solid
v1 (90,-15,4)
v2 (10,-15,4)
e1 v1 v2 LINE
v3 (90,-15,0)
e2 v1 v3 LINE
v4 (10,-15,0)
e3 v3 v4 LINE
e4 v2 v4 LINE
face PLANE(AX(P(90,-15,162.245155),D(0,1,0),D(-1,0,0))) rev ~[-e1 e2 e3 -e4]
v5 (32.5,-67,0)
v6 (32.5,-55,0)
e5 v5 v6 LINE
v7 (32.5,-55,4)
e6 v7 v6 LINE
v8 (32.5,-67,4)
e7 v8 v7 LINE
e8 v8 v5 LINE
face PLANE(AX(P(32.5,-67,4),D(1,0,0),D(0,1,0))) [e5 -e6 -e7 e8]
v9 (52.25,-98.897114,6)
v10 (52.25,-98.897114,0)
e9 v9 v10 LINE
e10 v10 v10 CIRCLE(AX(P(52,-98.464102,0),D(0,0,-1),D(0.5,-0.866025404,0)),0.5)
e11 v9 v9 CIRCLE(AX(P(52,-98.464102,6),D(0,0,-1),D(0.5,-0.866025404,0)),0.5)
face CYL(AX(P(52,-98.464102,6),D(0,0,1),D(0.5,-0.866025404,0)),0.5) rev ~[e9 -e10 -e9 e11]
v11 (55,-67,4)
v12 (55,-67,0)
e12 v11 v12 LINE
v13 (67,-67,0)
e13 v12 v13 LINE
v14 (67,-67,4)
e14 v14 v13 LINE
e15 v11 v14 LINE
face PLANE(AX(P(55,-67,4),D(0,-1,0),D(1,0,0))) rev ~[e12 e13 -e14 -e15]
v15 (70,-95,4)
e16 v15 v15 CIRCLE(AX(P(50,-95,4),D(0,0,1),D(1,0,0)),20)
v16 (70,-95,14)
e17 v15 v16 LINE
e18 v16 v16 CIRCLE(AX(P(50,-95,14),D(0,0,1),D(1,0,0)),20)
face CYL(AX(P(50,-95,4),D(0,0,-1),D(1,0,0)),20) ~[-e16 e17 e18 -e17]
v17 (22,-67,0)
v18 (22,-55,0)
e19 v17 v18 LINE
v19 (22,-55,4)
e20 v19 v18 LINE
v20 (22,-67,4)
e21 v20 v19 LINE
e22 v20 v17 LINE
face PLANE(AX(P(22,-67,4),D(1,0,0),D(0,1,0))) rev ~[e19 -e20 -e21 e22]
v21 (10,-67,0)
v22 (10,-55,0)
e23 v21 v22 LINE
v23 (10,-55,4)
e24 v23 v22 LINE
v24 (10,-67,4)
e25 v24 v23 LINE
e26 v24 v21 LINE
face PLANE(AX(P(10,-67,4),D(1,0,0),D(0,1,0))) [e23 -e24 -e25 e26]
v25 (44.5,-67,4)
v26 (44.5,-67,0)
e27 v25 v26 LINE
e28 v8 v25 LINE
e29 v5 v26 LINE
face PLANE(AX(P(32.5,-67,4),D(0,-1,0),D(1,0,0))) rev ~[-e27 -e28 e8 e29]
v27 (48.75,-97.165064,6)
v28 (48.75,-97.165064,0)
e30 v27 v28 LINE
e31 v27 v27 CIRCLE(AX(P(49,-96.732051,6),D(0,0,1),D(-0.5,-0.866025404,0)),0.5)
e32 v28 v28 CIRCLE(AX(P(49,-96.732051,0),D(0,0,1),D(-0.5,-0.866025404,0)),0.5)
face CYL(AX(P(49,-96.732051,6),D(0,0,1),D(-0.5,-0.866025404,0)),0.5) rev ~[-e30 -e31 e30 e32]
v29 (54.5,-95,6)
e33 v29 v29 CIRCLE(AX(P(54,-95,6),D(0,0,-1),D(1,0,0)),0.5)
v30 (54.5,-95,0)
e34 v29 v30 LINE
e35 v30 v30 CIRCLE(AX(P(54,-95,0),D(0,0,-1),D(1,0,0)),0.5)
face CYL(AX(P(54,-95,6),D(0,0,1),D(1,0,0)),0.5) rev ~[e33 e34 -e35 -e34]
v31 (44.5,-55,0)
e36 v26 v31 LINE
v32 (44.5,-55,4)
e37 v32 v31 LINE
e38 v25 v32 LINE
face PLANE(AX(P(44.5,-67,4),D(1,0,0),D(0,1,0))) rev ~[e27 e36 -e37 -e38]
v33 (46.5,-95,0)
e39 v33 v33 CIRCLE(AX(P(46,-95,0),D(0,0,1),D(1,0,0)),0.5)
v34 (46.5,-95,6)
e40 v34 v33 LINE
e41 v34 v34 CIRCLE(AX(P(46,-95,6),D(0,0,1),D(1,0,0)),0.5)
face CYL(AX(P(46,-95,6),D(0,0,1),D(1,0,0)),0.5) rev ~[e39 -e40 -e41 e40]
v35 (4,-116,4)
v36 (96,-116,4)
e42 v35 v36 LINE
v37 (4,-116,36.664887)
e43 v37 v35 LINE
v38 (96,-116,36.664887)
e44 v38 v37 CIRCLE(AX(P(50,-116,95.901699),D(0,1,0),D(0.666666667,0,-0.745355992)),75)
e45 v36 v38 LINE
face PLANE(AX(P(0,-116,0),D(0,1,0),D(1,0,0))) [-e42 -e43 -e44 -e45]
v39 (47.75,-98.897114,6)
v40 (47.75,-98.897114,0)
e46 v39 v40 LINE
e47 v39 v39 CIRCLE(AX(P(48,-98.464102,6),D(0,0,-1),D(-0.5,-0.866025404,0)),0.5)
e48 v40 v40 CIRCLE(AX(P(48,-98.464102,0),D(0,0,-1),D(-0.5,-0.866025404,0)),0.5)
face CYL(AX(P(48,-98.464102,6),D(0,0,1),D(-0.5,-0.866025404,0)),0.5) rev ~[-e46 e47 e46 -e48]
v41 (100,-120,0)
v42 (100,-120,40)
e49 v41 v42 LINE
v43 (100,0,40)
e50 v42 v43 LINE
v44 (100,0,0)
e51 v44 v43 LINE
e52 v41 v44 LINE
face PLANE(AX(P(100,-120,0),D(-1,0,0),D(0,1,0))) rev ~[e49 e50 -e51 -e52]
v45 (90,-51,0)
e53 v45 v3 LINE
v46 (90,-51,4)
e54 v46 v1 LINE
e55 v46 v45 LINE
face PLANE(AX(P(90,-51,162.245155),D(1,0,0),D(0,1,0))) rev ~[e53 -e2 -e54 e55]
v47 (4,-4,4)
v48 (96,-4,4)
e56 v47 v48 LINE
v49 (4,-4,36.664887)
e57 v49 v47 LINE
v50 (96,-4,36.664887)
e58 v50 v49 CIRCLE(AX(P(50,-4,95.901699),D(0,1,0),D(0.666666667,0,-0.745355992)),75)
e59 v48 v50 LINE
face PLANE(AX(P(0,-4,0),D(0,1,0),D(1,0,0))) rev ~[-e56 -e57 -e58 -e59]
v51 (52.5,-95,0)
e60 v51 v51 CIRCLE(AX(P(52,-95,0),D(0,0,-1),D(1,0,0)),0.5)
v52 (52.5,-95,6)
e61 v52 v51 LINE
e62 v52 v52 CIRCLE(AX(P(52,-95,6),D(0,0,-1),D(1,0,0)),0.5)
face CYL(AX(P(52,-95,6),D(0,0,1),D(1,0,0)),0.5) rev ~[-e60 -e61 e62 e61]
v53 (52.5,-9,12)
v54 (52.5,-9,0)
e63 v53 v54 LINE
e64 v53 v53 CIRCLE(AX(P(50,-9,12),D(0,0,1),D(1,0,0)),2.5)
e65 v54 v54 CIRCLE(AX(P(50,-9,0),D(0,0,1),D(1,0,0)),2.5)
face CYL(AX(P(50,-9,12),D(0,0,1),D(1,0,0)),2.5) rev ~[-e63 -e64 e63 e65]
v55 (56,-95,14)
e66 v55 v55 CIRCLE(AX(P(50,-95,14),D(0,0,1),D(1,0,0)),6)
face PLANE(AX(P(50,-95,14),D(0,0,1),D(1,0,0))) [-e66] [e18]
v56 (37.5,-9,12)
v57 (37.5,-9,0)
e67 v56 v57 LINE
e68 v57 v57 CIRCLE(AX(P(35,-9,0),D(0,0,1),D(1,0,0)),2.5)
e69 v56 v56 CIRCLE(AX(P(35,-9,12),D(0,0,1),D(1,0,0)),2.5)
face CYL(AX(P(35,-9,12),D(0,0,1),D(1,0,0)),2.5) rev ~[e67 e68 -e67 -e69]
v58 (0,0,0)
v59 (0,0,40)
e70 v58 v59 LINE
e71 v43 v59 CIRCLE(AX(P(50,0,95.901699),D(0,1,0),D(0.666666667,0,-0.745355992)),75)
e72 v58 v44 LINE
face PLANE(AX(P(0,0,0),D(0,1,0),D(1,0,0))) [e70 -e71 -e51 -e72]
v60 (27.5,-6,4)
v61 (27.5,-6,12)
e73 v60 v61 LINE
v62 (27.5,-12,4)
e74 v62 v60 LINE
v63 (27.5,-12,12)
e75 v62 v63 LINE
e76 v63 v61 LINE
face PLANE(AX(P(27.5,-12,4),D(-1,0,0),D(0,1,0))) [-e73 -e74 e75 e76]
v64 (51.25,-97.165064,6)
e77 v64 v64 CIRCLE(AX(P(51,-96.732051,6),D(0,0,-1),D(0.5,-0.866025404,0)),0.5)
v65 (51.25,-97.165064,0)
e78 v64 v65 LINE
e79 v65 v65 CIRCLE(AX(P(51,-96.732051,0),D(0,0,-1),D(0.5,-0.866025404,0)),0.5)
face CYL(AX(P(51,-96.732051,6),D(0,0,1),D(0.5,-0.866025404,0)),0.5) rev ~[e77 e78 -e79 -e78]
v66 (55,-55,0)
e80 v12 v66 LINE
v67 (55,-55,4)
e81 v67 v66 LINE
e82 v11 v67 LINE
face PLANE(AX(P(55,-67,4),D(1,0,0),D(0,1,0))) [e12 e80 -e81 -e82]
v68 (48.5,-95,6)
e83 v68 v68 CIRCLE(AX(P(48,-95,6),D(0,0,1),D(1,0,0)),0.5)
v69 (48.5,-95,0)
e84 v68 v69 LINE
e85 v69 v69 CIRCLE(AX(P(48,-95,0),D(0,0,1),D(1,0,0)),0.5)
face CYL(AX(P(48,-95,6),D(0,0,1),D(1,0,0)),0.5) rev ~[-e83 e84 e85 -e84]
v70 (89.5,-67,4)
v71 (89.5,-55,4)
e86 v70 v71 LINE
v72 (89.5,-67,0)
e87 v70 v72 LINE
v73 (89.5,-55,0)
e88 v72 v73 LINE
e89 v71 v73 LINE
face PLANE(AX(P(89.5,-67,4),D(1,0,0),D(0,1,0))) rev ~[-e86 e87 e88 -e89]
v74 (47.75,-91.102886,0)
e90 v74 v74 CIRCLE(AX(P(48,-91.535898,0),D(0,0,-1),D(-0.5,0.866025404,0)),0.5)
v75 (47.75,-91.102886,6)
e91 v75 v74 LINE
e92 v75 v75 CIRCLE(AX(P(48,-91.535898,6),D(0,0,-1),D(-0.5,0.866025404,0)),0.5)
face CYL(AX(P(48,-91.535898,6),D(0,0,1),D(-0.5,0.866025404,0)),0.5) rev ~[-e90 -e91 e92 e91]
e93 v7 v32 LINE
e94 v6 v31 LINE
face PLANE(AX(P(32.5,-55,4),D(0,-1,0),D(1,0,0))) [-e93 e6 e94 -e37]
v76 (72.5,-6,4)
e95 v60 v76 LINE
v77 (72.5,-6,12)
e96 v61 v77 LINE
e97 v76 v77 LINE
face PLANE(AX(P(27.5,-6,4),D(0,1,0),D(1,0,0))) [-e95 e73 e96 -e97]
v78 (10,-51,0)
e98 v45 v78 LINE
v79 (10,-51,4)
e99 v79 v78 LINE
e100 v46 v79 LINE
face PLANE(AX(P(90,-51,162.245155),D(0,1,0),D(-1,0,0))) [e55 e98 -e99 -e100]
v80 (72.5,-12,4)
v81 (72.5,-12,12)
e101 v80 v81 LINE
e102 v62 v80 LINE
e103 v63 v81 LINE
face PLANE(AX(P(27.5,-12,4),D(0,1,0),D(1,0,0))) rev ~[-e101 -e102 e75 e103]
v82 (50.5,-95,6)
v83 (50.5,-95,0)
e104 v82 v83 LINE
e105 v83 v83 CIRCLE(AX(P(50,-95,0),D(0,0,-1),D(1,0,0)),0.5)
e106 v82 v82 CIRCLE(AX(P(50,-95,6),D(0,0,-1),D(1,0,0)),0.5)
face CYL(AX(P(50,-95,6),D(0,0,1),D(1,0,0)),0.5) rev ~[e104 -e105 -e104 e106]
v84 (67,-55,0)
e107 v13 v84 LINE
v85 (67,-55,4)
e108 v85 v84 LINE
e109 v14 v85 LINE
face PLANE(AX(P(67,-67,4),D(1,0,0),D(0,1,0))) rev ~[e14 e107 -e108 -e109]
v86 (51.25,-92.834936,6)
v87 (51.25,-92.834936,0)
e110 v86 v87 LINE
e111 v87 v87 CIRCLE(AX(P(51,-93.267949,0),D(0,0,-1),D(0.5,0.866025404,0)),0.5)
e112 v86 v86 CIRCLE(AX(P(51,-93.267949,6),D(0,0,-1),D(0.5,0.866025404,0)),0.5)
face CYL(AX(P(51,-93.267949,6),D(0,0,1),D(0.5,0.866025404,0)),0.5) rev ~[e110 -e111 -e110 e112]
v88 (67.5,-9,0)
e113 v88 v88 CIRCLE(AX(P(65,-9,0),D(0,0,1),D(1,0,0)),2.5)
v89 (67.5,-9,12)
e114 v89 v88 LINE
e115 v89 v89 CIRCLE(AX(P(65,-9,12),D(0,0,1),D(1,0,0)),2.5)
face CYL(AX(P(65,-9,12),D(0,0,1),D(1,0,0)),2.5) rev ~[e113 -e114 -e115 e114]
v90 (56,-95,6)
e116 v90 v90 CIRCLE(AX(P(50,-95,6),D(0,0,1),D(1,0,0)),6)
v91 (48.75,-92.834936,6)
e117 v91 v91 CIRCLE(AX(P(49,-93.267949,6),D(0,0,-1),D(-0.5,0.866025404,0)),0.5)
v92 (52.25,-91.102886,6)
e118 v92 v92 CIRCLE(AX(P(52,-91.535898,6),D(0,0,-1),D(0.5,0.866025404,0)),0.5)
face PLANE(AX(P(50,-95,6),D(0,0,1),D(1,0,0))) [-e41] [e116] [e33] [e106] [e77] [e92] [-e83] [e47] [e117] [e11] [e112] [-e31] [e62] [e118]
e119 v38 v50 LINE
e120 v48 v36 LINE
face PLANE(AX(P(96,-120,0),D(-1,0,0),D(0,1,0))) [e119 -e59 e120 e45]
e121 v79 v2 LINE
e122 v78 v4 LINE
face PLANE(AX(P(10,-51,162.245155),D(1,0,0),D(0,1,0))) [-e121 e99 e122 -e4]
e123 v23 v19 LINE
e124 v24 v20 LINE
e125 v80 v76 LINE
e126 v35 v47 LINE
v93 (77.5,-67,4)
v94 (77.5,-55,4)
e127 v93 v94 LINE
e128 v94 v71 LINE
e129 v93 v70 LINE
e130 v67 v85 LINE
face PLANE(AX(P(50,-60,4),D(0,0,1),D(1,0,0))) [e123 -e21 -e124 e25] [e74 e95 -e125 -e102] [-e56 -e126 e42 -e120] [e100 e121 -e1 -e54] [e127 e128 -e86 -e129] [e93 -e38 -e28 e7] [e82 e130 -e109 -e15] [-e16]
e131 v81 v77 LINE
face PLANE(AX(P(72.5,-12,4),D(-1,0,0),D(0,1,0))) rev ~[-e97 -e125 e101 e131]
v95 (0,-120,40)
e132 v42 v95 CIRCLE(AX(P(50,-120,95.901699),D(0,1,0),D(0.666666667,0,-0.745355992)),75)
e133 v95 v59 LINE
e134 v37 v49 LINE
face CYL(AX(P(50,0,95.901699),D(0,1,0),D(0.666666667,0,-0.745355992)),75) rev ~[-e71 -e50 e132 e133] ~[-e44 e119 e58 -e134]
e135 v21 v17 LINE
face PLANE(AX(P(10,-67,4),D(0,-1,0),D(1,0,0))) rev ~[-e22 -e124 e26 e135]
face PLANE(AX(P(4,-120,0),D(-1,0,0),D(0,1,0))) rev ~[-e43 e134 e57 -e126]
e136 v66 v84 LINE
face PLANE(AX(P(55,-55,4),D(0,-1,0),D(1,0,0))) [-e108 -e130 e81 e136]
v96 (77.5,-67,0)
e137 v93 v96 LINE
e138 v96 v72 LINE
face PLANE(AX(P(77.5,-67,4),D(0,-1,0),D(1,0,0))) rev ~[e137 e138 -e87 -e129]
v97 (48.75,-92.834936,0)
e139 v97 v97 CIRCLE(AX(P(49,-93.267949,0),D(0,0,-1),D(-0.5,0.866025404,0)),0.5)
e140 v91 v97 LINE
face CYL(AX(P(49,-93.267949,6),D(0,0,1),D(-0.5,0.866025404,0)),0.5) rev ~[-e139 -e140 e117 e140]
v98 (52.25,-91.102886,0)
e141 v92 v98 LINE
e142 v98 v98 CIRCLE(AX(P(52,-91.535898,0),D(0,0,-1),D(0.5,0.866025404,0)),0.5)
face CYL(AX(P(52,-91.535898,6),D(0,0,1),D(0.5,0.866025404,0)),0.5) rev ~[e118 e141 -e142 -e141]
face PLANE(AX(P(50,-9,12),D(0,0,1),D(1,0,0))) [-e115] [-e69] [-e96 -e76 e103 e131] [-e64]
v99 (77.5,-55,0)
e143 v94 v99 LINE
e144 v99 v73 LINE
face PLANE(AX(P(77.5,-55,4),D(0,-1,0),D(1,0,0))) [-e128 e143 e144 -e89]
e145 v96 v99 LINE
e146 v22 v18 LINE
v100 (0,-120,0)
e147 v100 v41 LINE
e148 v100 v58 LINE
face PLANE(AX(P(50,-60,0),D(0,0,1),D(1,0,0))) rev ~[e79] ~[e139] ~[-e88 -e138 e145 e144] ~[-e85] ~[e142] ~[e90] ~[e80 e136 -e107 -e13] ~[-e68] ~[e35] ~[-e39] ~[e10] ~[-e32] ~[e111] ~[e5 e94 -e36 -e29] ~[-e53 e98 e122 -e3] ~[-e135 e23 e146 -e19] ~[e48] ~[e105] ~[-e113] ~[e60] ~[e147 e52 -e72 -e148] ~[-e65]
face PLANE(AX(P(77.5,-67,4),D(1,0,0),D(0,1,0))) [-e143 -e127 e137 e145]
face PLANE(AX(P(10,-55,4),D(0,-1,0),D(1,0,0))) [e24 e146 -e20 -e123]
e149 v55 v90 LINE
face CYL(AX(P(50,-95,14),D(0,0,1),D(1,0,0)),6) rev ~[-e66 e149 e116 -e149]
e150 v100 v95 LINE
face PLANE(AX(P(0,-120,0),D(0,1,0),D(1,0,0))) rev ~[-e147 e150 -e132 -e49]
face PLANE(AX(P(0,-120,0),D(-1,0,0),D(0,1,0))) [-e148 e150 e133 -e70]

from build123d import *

# Parameters (mm, degrees)
SKETCH1_W                    = 100
SKETCH1_H                    = 120
BOSS_EXTRUDE1_DEPTH          = 40
CUT_EXTRUDE2_DEPTH           = 120
SHELL1_T                     = -4
CUT_EXTRUDE3_DEPTH           = 162.245154966
CUT_EXTRUDE3_DEPTH_BACK      = 162.245154966
SKETCH3_W                    = 80
SKETCH3_H                    = 36
SKETCH4_R                    = 20
BOSS_EXTRUDE2_DEPTH          = 10
SKETCH6_W                    = 45
SKETCH6_H                    = 6
BOSS_EXTRUDE4_DEPTH          = 8
SKETCH7_R                    = 2.5
CUT_EXTRUDE6_DEPTH           = 159.694675399
LPATTERN2_COUNT              = 2
LPATTERN2_PITCH              = 15
LPATTERN2_COL_COUNT          = 2
LPATTERN2_COL_PITCH          = 15
SKETCH9_W                    = 12
SKETCH9_H                    = 12
CUT_EXTRUDE7_DEPTH           = 10
LPATTERN3_COUNT              = 4
LPATTERN3_PITCH              = 22.5
SKETCH10_R                   = 6
CUT_EXTRUDE8_DEPTH           = 8
SKETCH13_R                   = 0.5
CUT_EXTRUDE9_DEPTH           = 10
LPATTERN4_COUNT              = 3
LPATTERN4_PITCH              = 2
LPATTERN4_COL_COUNT          = 3
LPATTERN4_COL_PITCH          = 2
CIRPATTERN2_COPY_1_SKETCH_R  = 0.5
CIRPATTERN2_COPY_1_DEPTH     = 10
CIRPATTERN2_COPY_2_SKETCH_R  = 0.5
CIRPATTERN2_COPY_2_DEPTH     = 10
CIRPATTERN2_COPY_3_SKETCH_R  = 0.5
CIRPATTERN2_COPY_3_DEPTH     = 10
CIRPATTERN2_COPY_4_SKETCH_R  = 0.5
CIRPATTERN2_COPY_4_DEPTH     = 10
CIRPATTERN2_COPY_5_SKETCH_R  = 0.5
CIRPATTERN2_COPY_5_DEPTH     = 10
CIRPATTERN2_COPY_6_SKETCH_R  = 0.5
CIRPATTERN2_COPY_6_DEPTH     = 10
CIRPATTERN2_COPY_7_SKETCH_R  = 0.5
CIRPATTERN2_COPY_7_DEPTH     = 10
CIRPATTERN2_COPY_8_SKETCH_R  = 0.5
CIRPATTERN2_COPY_8_DEPTH     = 10
CIRPATTERN2_COPY_9_SKETCH_R  = 0.5
CIRPATTERN2_COPY_9_DEPTH     = 10
CIRPATTERN2_COPY_10_SKETCH_R = 0.5
CIRPATTERN2_COPY_10_DEPTH    = 10
CIRPATTERN2_COPY_11_SKETCH_R = 0.5
CIRPATTERN2_COPY_11_DEPTH    = 10
CIRPATTERN2_COPY_12_SKETCH_R = 0.5
CIRPATTERN2_COPY_12_DEPTH    = 10
CIRPATTERN2_COPY_13_SKETCH_R = 0.5
CIRPATTERN2_COPY_13_DEPTH    = 10
CIRPATTERN2_COPY_14_SKETCH_R = 0.5
CIRPATTERN2_COPY_14_DEPTH    = 10
CIRPATTERN2_COPY_15_SKETCH_R = 0.5
CIRPATTERN2_COPY_15_DEPTH    = 10
CIRPATTERN2_COPY_16_SKETCH_R = 0.5
CIRPATTERN2_COPY_16_DEPTH    = 10
CIRPATTERN2_COPY_17_SKETCH_R = 0.5
CIRPATTERN2_COPY_17_DEPTH    = 10
CIRPATTERN2_COPY_18_SKETCH_R = 0.5
CIRPATTERN2_COPY_18_DEPTH    = 10
CIRPATTERN2_COPY_19_SKETCH_R = 0.5
CIRPATTERN2_COPY_19_DEPTH    = 10
CIRPATTERN2_COPY_20_SKETCH_R = 0.5
CIRPATTERN2_COPY_20_DEPTH    = 10
CIRPATTERN2_COPY_21_SKETCH_R = 0.5
CIRPATTERN2_COPY_21_DEPTH    = 10
CIRPATTERN2_COPY_22_SKETCH_R = 0.5
CIRPATTERN2_COPY_22_DEPTH    = 10
CIRPATTERN2_COPY_23_SKETCH_R = 0.5
CIRPATTERN2_COPY_23_DEPTH    = 10
CIRPATTERN2_COPY_24_SKETCH_R = 0.5
CIRPATTERN2_COPY_24_DEPTH    = 10
CIRPATTERN2_COPY_25_SKETCH_R = 0.5
CIRPATTERN2_COPY_25_DEPTH    = 10


with BuildPart() as part:
    # Sketch1 → Boss-Extrude1 (new body)
    with BuildSketch(Plane.XY):
        with Locations((50, -60)):
            Rectangle(SKETCH1_W, SKETCH1_H)
    extrude(amount=BOSS_EXTRUDE1_DEPTH)

    # Sketch2 → Cut-Extrude2 (cut)
    with BuildSketch(Plane(origin=(0, 0, 0), x_dir=(1, 0, 0), z_dir=(0, 1, 0))):
        with BuildLine():
            Line((0, -40), (100, -40))
            ThreePointArc((100, -40), (50, -20.901699437), (0, -40))
        make_face()
    extrude(amount=-CUT_EXTRUDE2_DEPTH, mode=Mode.SUBTRACT)

    # Shell1
    shell1_openings = [part.faces().sort_by_distance(p)[0] for p in [
        (50, -60, 20.901699437),
    ]]
    offset(amount=SHELL1_T, openings=shell1_openings, kind=Kind.INTERSECTION)

    # Sketch3 → Cut-Extrude3 (cut, two sides: drawn at the far end of the back side and taken through both)
    with BuildSketch(Plane(origin=(0, 0, 0), x_dir=(-1, 0, 0), z_dir=(0, 0, -1)).offset(-CUT_EXTRUDE3_DEPTH_BACK)):
        with Locations((-50, -33)):
            Rectangle(SKETCH3_W, SKETCH3_H)
    extrude(amount=CUT_EXTRUDE3_DEPTH + CUT_EXTRUDE3_DEPTH_BACK, mode=Mode.SUBTRACT)

    # Sketch4 → Boss-Extrude2 (add)
    with BuildSketch(Plane.XY.offset(4)):
        with Locations((50, -95)):
            Circle(SKETCH4_R)
    extrude(amount=BOSS_EXTRUDE2_DEPTH)

    # Sketch6 → Boss-Extrude4 (add)
    with BuildSketch(Plane.XY.offset(4)):
        with Locations((50, -9)):
            Rectangle(SKETCH6_W, SKETCH6_H)
    extrude(amount=BOSS_EXTRUDE4_DEPTH)

    # Sketch7 → Cut-Extrude6 (cut, through all)
    with BuildSketch(Plane.XY.offset(12)):
        with Locations((50, -9)):
            Circle(SKETCH7_R)
    cut_extrude6 = extrude(amount=-CUT_EXTRUDE6_DEPTH, mode=Mode.SUBTRACT)

    # LPattern2: Cut-Extrude6 ×2
    with Locations(*[(-i * LPATTERN2_PITCH, 0, 0) for i in range(1, LPATTERN2_COUNT)]):
        add(cut_extrude6, mode=Mode.SUBTRACT)

    # LPattern2 col: Cut-Extrude6 ×2
    with Locations(*[(i * LPATTERN2_COL_PITCH, 0, 0) for i in range(1, LPATTERN2_COL_COUNT)]):
        add(cut_extrude6, mode=Mode.SUBTRACT)

    # Sketch9 → Cut-Extrude7 (cut)
    with BuildSketch(Plane.XY.offset(4)):
        with Locations((16, -61)):
            Rectangle(SKETCH9_W, SKETCH9_H)
    cut_extrude7 = extrude(amount=-CUT_EXTRUDE7_DEPTH, mode=Mode.SUBTRACT)

    # LPattern3: Cut-Extrude7 ×4
    with Locations(*[(i * LPATTERN3_PITCH, 0, 0) for i in range(1, LPATTERN3_COUNT)]):
        add(cut_extrude7, mode=Mode.SUBTRACT)

    # Sketch10 → Cut-Extrude8 (cut)
    with BuildSketch(Plane.XY.offset(14)):
        with Locations((50, -95)):
            Circle(SKETCH10_R)
    extrude(amount=-CUT_EXTRUDE8_DEPTH, mode=Mode.SUBTRACT)

    # Sketch13 → Cut-Extrude9 (cut)
    with BuildSketch(Plane.XY.offset(6)):
        with Locations((50, -95)):
            Circle(SKETCH13_R)
    cut_extrude9 = extrude(amount=-CUT_EXTRUDE9_DEPTH, mode=Mode.SUBTRACT)

    # LPattern4: Cut-Extrude9 ×3
    with Locations(*[(i * LPATTERN4_PITCH, 0, 0) for i in range(1, LPATTERN4_COUNT)]):
        add(cut_extrude9, mode=Mode.SUBTRACT)

    # LPattern4 col: Cut-Extrude9 ×3
    with Locations(*[(-i * LPATTERN4_COL_PITCH, 0, 0) for i in range(1, LPATTERN4_COL_COUNT)]):
        add(cut_extrude9, mode=Mode.SUBTRACT)

    # CirPattern2 copy 1 sketch → CirPattern2 copy 1 (cut)
    with BuildSketch(Plane(origin=(-56.27241336, -89.069219382, 6), x_dir=(0.5000000000000001, 0.8660254037844386, 0), z_dir=(0, 0, 1))):
        with Locations((50, -95)):
            Circle(CIRPATTERN2_COPY_1_SKETCH_R)
    extrude(amount=-CIRPATTERN2_COPY_1_DEPTH, mode=Mode.SUBTRACT)

    # CirPattern2 copy 2 sketch → CirPattern2 copy 2 (cut)
    with BuildSketch(Plane(origin=(-8.27241336, -184.069219382, 6), x_dir=(-0.4999999999999998, 0.8660254037844387, 0), z_dir=(0, 0, 1))):
        with Locations((50, -95)):
            Circle(CIRPATTERN2_COPY_2_SKETCH_R)
    extrude(amount=-CIRPATTERN2_COPY_2_DEPTH, mode=Mode.SUBTRACT)

    # CirPattern2 copy 3 sketch → CirPattern2 copy 3 (cut)
    with BuildSketch(Plane(origin=(98, -190, 6), x_dir=(-1, 0, 0), z_dir=(0, 0, 1))):
        with Locations((50, -95)):
            Circle(CIRPATTERN2_COPY_3_SKETCH_R)
    extrude(amount=-CIRPATTERN2_COPY_3_DEPTH, mode=Mode.SUBTRACT)

    # CirPattern2 copy 4 sketch → CirPattern2 copy 4 (cut)
    with BuildSketch(Plane(origin=(156.27241336, -100.930780618, 6), x_dir=(-0.5000000000000004, -0.8660254037844384, 0), z_dir=(0, 0, 1))):
        with Locations((50, -95)):
            Circle(CIRPATTERN2_COPY_4_SKETCH_R)
    extrude(amount=-CIRPATTERN2_COPY_4_DEPTH, mode=Mode.SUBTRACT)

    # CirPattern2 copy 5 sketch → CirPattern2 copy 5 (cut)
    with BuildSketch(Plane(origin=(108.27241336, -5.930780618, 6), x_dir=(0.5000000000000001, -0.8660254037844386, 0), z_dir=(0, 0, 1))):
        with Locations((50, -95)):
            Circle(CIRPATTERN2_COPY_5_SKETCH_R)
    extrude(amount=-CIRPATTERN2_COPY_5_DEPTH, mode=Mode.SUBTRACT)

    # CirPattern2 copy 6 sketch → CirPattern2 copy 6 (cut)
    with BuildSketch(Plane(origin=(-55.27241336, -87.337168574, 6), x_dir=(0.5000000000000001, 0.8660254037844386, 0), z_dir=(0, 0, 1))):
        with Locations((50, -95)):
            Circle(CIRPATTERN2_COPY_6_SKETCH_R)
    extrude(amount=-CIRPATTERN2_COPY_6_DEPTH, mode=Mode.SUBTRACT)

    # CirPattern2 copy 7 sketch → CirPattern2 copy 7 (cut)
    with BuildSketch(Plane(origin=(-9.27241336, -182.337168574, 6), x_dir=(-0.4999999999999998, 0.8660254037844387, 0), z_dir=(0, 0, 1))):
        with Locations((50, -95)):
            Circle(CIRPATTERN2_COPY_7_SKETCH_R)
    extrude(amount=-CIRPATTERN2_COPY_7_DEPTH, mode=Mode.SUBTRACT)

    # CirPattern2 copy 8 sketch → CirPattern2 copy 8 (cut)
    with BuildSketch(Plane(origin=(96, -190, 6), x_dir=(-1, 0, 0), z_dir=(0, 0, 1))):
        with Locations((50, -95)):
            Circle(CIRPATTERN2_COPY_8_SKETCH_R)
    extrude(amount=-CIRPATTERN2_COPY_8_DEPTH, mode=Mode.SUBTRACT)

    # CirPattern2 copy 9 sketch → CirPattern2 copy 9 (cut)
    with BuildSketch(Plane(origin=(155.27241336, -102.662831426, 6), x_dir=(-0.5000000000000004, -0.8660254037844384, 0), z_dir=(0, 0, 1))):
        with Locations((50, -95)):
            Circle(CIRPATTERN2_COPY_9_SKETCH_R)
    extrude(amount=-CIRPATTERN2_COPY_9_DEPTH, mode=Mode.SUBTRACT)

    # CirPattern2 copy 10 sketch → CirPattern2 copy 10 (cut)
    with BuildSketch(Plane(origin=(109.27241336, -7.662831426, 6), x_dir=(0.5000000000000001, -0.8660254037844386, 0), z_dir=(0, 0, 1))):
        with Locations((50, -95)):
            Circle(CIRPATTERN2_COPY_10_SKETCH_R)
    extrude(amount=-CIRPATTERN2_COPY_10_DEPTH, mode=Mode.SUBTRACT)

    # CirPattern2 copy 11 sketch → CirPattern2 copy 11 (cut)
    with BuildSketch(Plane(origin=(-58.27241336, -92.533320997, 6), x_dir=(0.5000000000000001, 0.8660254037844386, 0), z_dir=(0, 0, 1))):
        with Locations((50, -95)):
            Circle(CIRPATTERN2_COPY_11_SKETCH_R)
    extrude(amount=-CIRPATTERN2_COPY_11_DEPTH, mode=Mode.SUBTRACT)

    # CirPattern2 copy 12 sketch → CirPattern2 copy 12 (cut)
    with BuildSketch(Plane(origin=(-6.27241336, -187.533320997, 6), x_dir=(-0.4999999999999998, 0.8660254037844387, 0), z_dir=(0, 0, 1))):
        with Locations((50, -95)):
            Circle(CIRPATTERN2_COPY_12_SKETCH_R)
    extrude(amount=-CIRPATTERN2_COPY_12_DEPTH, mode=Mode.SUBTRACT)

    # CirPattern2 copy 13 sketch → CirPattern2 copy 13 (cut)
    with BuildSketch(Plane(origin=(102, -190, 6), x_dir=(-1, 0, 0), z_dir=(0, 0, 1))):
        with Locations((50, -95)):
            Circle(CIRPATTERN2_COPY_13_SKETCH_R)
    extrude(amount=-CIRPATTERN2_COPY_13_DEPTH, mode=Mode.SUBTRACT)

    # CirPattern2 copy 14 sketch → CirPattern2 copy 14 (cut)
    with BuildSketch(Plane(origin=(158.27241336, -97.466679003, 6), x_dir=(-0.5000000000000004, -0.8660254037844384, 0), z_dir=(0, 0, 1))):
        with Locations((50, -95)):
            Circle(CIRPATTERN2_COPY_14_SKETCH_R)
    extrude(amount=-CIRPATTERN2_COPY_14_DEPTH, mode=Mode.SUBTRACT)

    # CirPattern2 copy 15 sketch → CirPattern2 copy 15 (cut)
    with BuildSketch(Plane(origin=(106.27241336, -2.466679003, 6), x_dir=(0.5000000000000001, -0.8660254037844386, 0), z_dir=(0, 0, 1))):
        with Locations((50, -95)):
            Circle(CIRPATTERN2_COPY_15_SKETCH_R)
    extrude(amount=-CIRPATTERN2_COPY_15_DEPTH, mode=Mode.SUBTRACT)

    # CirPattern2 copy 16 sketch → CirPattern2 copy 16 (cut)
    with BuildSketch(Plane(origin=(-59.27241336, -94.265371804, 6), x_dir=(0.5000000000000001, 0.8660254037844386, 0), z_dir=(0, 0, 1))):
        with Locations((50, -95)):
            Circle(CIRPATTERN2_COPY_16_SKETCH_R)
    extrude(amount=-CIRPATTERN2_COPY_16_DEPTH, mode=Mode.SUBTRACT)

    # CirPattern2 copy 17 sketch → CirPattern2 copy 17 (cut)
    with BuildSketch(Plane(origin=(-5.27241336, -189.265371804, 6), x_dir=(-0.4999999999999998, 0.8660254037844387, 0), z_dir=(0, 0, 1))):
        with Locations((50, -95)):
            Circle(CIRPATTERN2_COPY_17_SKETCH_R)
    extrude(amount=-CIRPATTERN2_COPY_17_DEPTH, mode=Mode.SUBTRACT)

    # CirPattern2 copy 18 sketch → CirPattern2 copy 18 (cut)
    with BuildSketch(Plane(origin=(104, -190, 6), x_dir=(-1, 0, 0), z_dir=(0, 0, 1))):
        with Locations((50, -95)):
            Circle(CIRPATTERN2_COPY_18_SKETCH_R)
    extrude(amount=-CIRPATTERN2_COPY_18_DEPTH, mode=Mode.SUBTRACT)

    # CirPattern2 copy 19 sketch → CirPattern2 copy 19 (cut)
    with BuildSketch(Plane(origin=(159.27241336, -95.734628196, 6), x_dir=(-0.5000000000000004, -0.8660254037844384, 0), z_dir=(0, 0, 1))):
        with Locations((50, -95)):
            Circle(CIRPATTERN2_COPY_19_SKETCH_R)
    extrude(amount=-CIRPATTERN2_COPY_19_DEPTH, mode=Mode.SUBTRACT)

    # CirPattern2 copy 20 sketch → CirPattern2 copy 20 (cut)
    with BuildSketch(Plane(origin=(105.27241336, -0.734628196, 6), x_dir=(0.5000000000000001, -0.8660254037844386, 0), z_dir=(0, 0, 1))):
        with Locations((50, -95)):
            Circle(CIRPATTERN2_COPY_20_SKETCH_R)
    extrude(amount=-CIRPATTERN2_COPY_20_DEPTH, mode=Mode.SUBTRACT)

    # CirPattern2 copy 21 sketch → CirPattern2 copy 21 (cut)
    with BuildSketch(Plane(origin=(-57.27241336, -90.801270189, 6), x_dir=(0.5000000000000001, 0.8660254037844386, 0), z_dir=(0, 0, 1))):
        with Locations((50, -95)):
            Circle(CIRPATTERN2_COPY_21_SKETCH_R)
    extrude(amount=-CIRPATTERN2_COPY_21_DEPTH, mode=Mode.SUBTRACT)

    # CirPattern2 copy 22 sketch → CirPattern2 copy 22 (cut)
    with BuildSketch(Plane(origin=(-7.27241336, -185.801270189, 6), x_dir=(-0.4999999999999998, 0.8660254037844387, 0), z_dir=(0, 0, 1))):
        with Locations((50, -95)):
            Circle(CIRPATTERN2_COPY_22_SKETCH_R)
    extrude(amount=-CIRPATTERN2_COPY_22_DEPTH, mode=Mode.SUBTRACT)

    # CirPattern2 copy 23 sketch → CirPattern2 copy 23 (cut)
    with BuildSketch(Plane(origin=(100, -190, 6), x_dir=(-1, 0, 0), z_dir=(0, 0, 1))):
        with Locations((50, -95)):
            Circle(CIRPATTERN2_COPY_23_SKETCH_R)
    extrude(amount=-CIRPATTERN2_COPY_23_DEPTH, mode=Mode.SUBTRACT)

    # CirPattern2 copy 24 sketch → CirPattern2 copy 24 (cut)
    with BuildSketch(Plane(origin=(157.27241336, -99.198729811, 6), x_dir=(-0.5000000000000004, -0.8660254037844384, 0), z_dir=(0, 0, 1))):
        with Locations((50, -95)):
            Circle(CIRPATTERN2_COPY_24_SKETCH_R)
    extrude(amount=-CIRPATTERN2_COPY_24_DEPTH, mode=Mode.SUBTRACT)

    # CirPattern2 copy 25 sketch → CirPattern2 copy 25 (cut)
    with BuildSketch(Plane(origin=(107.27241336, -4.198729811, 6), x_dir=(0.5000000000000001, -0.8660254037844386, 0), z_dir=(0, 0, 1))):
        with Locations((50, -95)):
            Circle(CIRPATTERN2_COPY_25_SKETCH_R)
    extrude(amount=-CIRPATTERN2_COPY_25_DEPTH, mode=Mode.SUBTRACT)


solid = part.part
